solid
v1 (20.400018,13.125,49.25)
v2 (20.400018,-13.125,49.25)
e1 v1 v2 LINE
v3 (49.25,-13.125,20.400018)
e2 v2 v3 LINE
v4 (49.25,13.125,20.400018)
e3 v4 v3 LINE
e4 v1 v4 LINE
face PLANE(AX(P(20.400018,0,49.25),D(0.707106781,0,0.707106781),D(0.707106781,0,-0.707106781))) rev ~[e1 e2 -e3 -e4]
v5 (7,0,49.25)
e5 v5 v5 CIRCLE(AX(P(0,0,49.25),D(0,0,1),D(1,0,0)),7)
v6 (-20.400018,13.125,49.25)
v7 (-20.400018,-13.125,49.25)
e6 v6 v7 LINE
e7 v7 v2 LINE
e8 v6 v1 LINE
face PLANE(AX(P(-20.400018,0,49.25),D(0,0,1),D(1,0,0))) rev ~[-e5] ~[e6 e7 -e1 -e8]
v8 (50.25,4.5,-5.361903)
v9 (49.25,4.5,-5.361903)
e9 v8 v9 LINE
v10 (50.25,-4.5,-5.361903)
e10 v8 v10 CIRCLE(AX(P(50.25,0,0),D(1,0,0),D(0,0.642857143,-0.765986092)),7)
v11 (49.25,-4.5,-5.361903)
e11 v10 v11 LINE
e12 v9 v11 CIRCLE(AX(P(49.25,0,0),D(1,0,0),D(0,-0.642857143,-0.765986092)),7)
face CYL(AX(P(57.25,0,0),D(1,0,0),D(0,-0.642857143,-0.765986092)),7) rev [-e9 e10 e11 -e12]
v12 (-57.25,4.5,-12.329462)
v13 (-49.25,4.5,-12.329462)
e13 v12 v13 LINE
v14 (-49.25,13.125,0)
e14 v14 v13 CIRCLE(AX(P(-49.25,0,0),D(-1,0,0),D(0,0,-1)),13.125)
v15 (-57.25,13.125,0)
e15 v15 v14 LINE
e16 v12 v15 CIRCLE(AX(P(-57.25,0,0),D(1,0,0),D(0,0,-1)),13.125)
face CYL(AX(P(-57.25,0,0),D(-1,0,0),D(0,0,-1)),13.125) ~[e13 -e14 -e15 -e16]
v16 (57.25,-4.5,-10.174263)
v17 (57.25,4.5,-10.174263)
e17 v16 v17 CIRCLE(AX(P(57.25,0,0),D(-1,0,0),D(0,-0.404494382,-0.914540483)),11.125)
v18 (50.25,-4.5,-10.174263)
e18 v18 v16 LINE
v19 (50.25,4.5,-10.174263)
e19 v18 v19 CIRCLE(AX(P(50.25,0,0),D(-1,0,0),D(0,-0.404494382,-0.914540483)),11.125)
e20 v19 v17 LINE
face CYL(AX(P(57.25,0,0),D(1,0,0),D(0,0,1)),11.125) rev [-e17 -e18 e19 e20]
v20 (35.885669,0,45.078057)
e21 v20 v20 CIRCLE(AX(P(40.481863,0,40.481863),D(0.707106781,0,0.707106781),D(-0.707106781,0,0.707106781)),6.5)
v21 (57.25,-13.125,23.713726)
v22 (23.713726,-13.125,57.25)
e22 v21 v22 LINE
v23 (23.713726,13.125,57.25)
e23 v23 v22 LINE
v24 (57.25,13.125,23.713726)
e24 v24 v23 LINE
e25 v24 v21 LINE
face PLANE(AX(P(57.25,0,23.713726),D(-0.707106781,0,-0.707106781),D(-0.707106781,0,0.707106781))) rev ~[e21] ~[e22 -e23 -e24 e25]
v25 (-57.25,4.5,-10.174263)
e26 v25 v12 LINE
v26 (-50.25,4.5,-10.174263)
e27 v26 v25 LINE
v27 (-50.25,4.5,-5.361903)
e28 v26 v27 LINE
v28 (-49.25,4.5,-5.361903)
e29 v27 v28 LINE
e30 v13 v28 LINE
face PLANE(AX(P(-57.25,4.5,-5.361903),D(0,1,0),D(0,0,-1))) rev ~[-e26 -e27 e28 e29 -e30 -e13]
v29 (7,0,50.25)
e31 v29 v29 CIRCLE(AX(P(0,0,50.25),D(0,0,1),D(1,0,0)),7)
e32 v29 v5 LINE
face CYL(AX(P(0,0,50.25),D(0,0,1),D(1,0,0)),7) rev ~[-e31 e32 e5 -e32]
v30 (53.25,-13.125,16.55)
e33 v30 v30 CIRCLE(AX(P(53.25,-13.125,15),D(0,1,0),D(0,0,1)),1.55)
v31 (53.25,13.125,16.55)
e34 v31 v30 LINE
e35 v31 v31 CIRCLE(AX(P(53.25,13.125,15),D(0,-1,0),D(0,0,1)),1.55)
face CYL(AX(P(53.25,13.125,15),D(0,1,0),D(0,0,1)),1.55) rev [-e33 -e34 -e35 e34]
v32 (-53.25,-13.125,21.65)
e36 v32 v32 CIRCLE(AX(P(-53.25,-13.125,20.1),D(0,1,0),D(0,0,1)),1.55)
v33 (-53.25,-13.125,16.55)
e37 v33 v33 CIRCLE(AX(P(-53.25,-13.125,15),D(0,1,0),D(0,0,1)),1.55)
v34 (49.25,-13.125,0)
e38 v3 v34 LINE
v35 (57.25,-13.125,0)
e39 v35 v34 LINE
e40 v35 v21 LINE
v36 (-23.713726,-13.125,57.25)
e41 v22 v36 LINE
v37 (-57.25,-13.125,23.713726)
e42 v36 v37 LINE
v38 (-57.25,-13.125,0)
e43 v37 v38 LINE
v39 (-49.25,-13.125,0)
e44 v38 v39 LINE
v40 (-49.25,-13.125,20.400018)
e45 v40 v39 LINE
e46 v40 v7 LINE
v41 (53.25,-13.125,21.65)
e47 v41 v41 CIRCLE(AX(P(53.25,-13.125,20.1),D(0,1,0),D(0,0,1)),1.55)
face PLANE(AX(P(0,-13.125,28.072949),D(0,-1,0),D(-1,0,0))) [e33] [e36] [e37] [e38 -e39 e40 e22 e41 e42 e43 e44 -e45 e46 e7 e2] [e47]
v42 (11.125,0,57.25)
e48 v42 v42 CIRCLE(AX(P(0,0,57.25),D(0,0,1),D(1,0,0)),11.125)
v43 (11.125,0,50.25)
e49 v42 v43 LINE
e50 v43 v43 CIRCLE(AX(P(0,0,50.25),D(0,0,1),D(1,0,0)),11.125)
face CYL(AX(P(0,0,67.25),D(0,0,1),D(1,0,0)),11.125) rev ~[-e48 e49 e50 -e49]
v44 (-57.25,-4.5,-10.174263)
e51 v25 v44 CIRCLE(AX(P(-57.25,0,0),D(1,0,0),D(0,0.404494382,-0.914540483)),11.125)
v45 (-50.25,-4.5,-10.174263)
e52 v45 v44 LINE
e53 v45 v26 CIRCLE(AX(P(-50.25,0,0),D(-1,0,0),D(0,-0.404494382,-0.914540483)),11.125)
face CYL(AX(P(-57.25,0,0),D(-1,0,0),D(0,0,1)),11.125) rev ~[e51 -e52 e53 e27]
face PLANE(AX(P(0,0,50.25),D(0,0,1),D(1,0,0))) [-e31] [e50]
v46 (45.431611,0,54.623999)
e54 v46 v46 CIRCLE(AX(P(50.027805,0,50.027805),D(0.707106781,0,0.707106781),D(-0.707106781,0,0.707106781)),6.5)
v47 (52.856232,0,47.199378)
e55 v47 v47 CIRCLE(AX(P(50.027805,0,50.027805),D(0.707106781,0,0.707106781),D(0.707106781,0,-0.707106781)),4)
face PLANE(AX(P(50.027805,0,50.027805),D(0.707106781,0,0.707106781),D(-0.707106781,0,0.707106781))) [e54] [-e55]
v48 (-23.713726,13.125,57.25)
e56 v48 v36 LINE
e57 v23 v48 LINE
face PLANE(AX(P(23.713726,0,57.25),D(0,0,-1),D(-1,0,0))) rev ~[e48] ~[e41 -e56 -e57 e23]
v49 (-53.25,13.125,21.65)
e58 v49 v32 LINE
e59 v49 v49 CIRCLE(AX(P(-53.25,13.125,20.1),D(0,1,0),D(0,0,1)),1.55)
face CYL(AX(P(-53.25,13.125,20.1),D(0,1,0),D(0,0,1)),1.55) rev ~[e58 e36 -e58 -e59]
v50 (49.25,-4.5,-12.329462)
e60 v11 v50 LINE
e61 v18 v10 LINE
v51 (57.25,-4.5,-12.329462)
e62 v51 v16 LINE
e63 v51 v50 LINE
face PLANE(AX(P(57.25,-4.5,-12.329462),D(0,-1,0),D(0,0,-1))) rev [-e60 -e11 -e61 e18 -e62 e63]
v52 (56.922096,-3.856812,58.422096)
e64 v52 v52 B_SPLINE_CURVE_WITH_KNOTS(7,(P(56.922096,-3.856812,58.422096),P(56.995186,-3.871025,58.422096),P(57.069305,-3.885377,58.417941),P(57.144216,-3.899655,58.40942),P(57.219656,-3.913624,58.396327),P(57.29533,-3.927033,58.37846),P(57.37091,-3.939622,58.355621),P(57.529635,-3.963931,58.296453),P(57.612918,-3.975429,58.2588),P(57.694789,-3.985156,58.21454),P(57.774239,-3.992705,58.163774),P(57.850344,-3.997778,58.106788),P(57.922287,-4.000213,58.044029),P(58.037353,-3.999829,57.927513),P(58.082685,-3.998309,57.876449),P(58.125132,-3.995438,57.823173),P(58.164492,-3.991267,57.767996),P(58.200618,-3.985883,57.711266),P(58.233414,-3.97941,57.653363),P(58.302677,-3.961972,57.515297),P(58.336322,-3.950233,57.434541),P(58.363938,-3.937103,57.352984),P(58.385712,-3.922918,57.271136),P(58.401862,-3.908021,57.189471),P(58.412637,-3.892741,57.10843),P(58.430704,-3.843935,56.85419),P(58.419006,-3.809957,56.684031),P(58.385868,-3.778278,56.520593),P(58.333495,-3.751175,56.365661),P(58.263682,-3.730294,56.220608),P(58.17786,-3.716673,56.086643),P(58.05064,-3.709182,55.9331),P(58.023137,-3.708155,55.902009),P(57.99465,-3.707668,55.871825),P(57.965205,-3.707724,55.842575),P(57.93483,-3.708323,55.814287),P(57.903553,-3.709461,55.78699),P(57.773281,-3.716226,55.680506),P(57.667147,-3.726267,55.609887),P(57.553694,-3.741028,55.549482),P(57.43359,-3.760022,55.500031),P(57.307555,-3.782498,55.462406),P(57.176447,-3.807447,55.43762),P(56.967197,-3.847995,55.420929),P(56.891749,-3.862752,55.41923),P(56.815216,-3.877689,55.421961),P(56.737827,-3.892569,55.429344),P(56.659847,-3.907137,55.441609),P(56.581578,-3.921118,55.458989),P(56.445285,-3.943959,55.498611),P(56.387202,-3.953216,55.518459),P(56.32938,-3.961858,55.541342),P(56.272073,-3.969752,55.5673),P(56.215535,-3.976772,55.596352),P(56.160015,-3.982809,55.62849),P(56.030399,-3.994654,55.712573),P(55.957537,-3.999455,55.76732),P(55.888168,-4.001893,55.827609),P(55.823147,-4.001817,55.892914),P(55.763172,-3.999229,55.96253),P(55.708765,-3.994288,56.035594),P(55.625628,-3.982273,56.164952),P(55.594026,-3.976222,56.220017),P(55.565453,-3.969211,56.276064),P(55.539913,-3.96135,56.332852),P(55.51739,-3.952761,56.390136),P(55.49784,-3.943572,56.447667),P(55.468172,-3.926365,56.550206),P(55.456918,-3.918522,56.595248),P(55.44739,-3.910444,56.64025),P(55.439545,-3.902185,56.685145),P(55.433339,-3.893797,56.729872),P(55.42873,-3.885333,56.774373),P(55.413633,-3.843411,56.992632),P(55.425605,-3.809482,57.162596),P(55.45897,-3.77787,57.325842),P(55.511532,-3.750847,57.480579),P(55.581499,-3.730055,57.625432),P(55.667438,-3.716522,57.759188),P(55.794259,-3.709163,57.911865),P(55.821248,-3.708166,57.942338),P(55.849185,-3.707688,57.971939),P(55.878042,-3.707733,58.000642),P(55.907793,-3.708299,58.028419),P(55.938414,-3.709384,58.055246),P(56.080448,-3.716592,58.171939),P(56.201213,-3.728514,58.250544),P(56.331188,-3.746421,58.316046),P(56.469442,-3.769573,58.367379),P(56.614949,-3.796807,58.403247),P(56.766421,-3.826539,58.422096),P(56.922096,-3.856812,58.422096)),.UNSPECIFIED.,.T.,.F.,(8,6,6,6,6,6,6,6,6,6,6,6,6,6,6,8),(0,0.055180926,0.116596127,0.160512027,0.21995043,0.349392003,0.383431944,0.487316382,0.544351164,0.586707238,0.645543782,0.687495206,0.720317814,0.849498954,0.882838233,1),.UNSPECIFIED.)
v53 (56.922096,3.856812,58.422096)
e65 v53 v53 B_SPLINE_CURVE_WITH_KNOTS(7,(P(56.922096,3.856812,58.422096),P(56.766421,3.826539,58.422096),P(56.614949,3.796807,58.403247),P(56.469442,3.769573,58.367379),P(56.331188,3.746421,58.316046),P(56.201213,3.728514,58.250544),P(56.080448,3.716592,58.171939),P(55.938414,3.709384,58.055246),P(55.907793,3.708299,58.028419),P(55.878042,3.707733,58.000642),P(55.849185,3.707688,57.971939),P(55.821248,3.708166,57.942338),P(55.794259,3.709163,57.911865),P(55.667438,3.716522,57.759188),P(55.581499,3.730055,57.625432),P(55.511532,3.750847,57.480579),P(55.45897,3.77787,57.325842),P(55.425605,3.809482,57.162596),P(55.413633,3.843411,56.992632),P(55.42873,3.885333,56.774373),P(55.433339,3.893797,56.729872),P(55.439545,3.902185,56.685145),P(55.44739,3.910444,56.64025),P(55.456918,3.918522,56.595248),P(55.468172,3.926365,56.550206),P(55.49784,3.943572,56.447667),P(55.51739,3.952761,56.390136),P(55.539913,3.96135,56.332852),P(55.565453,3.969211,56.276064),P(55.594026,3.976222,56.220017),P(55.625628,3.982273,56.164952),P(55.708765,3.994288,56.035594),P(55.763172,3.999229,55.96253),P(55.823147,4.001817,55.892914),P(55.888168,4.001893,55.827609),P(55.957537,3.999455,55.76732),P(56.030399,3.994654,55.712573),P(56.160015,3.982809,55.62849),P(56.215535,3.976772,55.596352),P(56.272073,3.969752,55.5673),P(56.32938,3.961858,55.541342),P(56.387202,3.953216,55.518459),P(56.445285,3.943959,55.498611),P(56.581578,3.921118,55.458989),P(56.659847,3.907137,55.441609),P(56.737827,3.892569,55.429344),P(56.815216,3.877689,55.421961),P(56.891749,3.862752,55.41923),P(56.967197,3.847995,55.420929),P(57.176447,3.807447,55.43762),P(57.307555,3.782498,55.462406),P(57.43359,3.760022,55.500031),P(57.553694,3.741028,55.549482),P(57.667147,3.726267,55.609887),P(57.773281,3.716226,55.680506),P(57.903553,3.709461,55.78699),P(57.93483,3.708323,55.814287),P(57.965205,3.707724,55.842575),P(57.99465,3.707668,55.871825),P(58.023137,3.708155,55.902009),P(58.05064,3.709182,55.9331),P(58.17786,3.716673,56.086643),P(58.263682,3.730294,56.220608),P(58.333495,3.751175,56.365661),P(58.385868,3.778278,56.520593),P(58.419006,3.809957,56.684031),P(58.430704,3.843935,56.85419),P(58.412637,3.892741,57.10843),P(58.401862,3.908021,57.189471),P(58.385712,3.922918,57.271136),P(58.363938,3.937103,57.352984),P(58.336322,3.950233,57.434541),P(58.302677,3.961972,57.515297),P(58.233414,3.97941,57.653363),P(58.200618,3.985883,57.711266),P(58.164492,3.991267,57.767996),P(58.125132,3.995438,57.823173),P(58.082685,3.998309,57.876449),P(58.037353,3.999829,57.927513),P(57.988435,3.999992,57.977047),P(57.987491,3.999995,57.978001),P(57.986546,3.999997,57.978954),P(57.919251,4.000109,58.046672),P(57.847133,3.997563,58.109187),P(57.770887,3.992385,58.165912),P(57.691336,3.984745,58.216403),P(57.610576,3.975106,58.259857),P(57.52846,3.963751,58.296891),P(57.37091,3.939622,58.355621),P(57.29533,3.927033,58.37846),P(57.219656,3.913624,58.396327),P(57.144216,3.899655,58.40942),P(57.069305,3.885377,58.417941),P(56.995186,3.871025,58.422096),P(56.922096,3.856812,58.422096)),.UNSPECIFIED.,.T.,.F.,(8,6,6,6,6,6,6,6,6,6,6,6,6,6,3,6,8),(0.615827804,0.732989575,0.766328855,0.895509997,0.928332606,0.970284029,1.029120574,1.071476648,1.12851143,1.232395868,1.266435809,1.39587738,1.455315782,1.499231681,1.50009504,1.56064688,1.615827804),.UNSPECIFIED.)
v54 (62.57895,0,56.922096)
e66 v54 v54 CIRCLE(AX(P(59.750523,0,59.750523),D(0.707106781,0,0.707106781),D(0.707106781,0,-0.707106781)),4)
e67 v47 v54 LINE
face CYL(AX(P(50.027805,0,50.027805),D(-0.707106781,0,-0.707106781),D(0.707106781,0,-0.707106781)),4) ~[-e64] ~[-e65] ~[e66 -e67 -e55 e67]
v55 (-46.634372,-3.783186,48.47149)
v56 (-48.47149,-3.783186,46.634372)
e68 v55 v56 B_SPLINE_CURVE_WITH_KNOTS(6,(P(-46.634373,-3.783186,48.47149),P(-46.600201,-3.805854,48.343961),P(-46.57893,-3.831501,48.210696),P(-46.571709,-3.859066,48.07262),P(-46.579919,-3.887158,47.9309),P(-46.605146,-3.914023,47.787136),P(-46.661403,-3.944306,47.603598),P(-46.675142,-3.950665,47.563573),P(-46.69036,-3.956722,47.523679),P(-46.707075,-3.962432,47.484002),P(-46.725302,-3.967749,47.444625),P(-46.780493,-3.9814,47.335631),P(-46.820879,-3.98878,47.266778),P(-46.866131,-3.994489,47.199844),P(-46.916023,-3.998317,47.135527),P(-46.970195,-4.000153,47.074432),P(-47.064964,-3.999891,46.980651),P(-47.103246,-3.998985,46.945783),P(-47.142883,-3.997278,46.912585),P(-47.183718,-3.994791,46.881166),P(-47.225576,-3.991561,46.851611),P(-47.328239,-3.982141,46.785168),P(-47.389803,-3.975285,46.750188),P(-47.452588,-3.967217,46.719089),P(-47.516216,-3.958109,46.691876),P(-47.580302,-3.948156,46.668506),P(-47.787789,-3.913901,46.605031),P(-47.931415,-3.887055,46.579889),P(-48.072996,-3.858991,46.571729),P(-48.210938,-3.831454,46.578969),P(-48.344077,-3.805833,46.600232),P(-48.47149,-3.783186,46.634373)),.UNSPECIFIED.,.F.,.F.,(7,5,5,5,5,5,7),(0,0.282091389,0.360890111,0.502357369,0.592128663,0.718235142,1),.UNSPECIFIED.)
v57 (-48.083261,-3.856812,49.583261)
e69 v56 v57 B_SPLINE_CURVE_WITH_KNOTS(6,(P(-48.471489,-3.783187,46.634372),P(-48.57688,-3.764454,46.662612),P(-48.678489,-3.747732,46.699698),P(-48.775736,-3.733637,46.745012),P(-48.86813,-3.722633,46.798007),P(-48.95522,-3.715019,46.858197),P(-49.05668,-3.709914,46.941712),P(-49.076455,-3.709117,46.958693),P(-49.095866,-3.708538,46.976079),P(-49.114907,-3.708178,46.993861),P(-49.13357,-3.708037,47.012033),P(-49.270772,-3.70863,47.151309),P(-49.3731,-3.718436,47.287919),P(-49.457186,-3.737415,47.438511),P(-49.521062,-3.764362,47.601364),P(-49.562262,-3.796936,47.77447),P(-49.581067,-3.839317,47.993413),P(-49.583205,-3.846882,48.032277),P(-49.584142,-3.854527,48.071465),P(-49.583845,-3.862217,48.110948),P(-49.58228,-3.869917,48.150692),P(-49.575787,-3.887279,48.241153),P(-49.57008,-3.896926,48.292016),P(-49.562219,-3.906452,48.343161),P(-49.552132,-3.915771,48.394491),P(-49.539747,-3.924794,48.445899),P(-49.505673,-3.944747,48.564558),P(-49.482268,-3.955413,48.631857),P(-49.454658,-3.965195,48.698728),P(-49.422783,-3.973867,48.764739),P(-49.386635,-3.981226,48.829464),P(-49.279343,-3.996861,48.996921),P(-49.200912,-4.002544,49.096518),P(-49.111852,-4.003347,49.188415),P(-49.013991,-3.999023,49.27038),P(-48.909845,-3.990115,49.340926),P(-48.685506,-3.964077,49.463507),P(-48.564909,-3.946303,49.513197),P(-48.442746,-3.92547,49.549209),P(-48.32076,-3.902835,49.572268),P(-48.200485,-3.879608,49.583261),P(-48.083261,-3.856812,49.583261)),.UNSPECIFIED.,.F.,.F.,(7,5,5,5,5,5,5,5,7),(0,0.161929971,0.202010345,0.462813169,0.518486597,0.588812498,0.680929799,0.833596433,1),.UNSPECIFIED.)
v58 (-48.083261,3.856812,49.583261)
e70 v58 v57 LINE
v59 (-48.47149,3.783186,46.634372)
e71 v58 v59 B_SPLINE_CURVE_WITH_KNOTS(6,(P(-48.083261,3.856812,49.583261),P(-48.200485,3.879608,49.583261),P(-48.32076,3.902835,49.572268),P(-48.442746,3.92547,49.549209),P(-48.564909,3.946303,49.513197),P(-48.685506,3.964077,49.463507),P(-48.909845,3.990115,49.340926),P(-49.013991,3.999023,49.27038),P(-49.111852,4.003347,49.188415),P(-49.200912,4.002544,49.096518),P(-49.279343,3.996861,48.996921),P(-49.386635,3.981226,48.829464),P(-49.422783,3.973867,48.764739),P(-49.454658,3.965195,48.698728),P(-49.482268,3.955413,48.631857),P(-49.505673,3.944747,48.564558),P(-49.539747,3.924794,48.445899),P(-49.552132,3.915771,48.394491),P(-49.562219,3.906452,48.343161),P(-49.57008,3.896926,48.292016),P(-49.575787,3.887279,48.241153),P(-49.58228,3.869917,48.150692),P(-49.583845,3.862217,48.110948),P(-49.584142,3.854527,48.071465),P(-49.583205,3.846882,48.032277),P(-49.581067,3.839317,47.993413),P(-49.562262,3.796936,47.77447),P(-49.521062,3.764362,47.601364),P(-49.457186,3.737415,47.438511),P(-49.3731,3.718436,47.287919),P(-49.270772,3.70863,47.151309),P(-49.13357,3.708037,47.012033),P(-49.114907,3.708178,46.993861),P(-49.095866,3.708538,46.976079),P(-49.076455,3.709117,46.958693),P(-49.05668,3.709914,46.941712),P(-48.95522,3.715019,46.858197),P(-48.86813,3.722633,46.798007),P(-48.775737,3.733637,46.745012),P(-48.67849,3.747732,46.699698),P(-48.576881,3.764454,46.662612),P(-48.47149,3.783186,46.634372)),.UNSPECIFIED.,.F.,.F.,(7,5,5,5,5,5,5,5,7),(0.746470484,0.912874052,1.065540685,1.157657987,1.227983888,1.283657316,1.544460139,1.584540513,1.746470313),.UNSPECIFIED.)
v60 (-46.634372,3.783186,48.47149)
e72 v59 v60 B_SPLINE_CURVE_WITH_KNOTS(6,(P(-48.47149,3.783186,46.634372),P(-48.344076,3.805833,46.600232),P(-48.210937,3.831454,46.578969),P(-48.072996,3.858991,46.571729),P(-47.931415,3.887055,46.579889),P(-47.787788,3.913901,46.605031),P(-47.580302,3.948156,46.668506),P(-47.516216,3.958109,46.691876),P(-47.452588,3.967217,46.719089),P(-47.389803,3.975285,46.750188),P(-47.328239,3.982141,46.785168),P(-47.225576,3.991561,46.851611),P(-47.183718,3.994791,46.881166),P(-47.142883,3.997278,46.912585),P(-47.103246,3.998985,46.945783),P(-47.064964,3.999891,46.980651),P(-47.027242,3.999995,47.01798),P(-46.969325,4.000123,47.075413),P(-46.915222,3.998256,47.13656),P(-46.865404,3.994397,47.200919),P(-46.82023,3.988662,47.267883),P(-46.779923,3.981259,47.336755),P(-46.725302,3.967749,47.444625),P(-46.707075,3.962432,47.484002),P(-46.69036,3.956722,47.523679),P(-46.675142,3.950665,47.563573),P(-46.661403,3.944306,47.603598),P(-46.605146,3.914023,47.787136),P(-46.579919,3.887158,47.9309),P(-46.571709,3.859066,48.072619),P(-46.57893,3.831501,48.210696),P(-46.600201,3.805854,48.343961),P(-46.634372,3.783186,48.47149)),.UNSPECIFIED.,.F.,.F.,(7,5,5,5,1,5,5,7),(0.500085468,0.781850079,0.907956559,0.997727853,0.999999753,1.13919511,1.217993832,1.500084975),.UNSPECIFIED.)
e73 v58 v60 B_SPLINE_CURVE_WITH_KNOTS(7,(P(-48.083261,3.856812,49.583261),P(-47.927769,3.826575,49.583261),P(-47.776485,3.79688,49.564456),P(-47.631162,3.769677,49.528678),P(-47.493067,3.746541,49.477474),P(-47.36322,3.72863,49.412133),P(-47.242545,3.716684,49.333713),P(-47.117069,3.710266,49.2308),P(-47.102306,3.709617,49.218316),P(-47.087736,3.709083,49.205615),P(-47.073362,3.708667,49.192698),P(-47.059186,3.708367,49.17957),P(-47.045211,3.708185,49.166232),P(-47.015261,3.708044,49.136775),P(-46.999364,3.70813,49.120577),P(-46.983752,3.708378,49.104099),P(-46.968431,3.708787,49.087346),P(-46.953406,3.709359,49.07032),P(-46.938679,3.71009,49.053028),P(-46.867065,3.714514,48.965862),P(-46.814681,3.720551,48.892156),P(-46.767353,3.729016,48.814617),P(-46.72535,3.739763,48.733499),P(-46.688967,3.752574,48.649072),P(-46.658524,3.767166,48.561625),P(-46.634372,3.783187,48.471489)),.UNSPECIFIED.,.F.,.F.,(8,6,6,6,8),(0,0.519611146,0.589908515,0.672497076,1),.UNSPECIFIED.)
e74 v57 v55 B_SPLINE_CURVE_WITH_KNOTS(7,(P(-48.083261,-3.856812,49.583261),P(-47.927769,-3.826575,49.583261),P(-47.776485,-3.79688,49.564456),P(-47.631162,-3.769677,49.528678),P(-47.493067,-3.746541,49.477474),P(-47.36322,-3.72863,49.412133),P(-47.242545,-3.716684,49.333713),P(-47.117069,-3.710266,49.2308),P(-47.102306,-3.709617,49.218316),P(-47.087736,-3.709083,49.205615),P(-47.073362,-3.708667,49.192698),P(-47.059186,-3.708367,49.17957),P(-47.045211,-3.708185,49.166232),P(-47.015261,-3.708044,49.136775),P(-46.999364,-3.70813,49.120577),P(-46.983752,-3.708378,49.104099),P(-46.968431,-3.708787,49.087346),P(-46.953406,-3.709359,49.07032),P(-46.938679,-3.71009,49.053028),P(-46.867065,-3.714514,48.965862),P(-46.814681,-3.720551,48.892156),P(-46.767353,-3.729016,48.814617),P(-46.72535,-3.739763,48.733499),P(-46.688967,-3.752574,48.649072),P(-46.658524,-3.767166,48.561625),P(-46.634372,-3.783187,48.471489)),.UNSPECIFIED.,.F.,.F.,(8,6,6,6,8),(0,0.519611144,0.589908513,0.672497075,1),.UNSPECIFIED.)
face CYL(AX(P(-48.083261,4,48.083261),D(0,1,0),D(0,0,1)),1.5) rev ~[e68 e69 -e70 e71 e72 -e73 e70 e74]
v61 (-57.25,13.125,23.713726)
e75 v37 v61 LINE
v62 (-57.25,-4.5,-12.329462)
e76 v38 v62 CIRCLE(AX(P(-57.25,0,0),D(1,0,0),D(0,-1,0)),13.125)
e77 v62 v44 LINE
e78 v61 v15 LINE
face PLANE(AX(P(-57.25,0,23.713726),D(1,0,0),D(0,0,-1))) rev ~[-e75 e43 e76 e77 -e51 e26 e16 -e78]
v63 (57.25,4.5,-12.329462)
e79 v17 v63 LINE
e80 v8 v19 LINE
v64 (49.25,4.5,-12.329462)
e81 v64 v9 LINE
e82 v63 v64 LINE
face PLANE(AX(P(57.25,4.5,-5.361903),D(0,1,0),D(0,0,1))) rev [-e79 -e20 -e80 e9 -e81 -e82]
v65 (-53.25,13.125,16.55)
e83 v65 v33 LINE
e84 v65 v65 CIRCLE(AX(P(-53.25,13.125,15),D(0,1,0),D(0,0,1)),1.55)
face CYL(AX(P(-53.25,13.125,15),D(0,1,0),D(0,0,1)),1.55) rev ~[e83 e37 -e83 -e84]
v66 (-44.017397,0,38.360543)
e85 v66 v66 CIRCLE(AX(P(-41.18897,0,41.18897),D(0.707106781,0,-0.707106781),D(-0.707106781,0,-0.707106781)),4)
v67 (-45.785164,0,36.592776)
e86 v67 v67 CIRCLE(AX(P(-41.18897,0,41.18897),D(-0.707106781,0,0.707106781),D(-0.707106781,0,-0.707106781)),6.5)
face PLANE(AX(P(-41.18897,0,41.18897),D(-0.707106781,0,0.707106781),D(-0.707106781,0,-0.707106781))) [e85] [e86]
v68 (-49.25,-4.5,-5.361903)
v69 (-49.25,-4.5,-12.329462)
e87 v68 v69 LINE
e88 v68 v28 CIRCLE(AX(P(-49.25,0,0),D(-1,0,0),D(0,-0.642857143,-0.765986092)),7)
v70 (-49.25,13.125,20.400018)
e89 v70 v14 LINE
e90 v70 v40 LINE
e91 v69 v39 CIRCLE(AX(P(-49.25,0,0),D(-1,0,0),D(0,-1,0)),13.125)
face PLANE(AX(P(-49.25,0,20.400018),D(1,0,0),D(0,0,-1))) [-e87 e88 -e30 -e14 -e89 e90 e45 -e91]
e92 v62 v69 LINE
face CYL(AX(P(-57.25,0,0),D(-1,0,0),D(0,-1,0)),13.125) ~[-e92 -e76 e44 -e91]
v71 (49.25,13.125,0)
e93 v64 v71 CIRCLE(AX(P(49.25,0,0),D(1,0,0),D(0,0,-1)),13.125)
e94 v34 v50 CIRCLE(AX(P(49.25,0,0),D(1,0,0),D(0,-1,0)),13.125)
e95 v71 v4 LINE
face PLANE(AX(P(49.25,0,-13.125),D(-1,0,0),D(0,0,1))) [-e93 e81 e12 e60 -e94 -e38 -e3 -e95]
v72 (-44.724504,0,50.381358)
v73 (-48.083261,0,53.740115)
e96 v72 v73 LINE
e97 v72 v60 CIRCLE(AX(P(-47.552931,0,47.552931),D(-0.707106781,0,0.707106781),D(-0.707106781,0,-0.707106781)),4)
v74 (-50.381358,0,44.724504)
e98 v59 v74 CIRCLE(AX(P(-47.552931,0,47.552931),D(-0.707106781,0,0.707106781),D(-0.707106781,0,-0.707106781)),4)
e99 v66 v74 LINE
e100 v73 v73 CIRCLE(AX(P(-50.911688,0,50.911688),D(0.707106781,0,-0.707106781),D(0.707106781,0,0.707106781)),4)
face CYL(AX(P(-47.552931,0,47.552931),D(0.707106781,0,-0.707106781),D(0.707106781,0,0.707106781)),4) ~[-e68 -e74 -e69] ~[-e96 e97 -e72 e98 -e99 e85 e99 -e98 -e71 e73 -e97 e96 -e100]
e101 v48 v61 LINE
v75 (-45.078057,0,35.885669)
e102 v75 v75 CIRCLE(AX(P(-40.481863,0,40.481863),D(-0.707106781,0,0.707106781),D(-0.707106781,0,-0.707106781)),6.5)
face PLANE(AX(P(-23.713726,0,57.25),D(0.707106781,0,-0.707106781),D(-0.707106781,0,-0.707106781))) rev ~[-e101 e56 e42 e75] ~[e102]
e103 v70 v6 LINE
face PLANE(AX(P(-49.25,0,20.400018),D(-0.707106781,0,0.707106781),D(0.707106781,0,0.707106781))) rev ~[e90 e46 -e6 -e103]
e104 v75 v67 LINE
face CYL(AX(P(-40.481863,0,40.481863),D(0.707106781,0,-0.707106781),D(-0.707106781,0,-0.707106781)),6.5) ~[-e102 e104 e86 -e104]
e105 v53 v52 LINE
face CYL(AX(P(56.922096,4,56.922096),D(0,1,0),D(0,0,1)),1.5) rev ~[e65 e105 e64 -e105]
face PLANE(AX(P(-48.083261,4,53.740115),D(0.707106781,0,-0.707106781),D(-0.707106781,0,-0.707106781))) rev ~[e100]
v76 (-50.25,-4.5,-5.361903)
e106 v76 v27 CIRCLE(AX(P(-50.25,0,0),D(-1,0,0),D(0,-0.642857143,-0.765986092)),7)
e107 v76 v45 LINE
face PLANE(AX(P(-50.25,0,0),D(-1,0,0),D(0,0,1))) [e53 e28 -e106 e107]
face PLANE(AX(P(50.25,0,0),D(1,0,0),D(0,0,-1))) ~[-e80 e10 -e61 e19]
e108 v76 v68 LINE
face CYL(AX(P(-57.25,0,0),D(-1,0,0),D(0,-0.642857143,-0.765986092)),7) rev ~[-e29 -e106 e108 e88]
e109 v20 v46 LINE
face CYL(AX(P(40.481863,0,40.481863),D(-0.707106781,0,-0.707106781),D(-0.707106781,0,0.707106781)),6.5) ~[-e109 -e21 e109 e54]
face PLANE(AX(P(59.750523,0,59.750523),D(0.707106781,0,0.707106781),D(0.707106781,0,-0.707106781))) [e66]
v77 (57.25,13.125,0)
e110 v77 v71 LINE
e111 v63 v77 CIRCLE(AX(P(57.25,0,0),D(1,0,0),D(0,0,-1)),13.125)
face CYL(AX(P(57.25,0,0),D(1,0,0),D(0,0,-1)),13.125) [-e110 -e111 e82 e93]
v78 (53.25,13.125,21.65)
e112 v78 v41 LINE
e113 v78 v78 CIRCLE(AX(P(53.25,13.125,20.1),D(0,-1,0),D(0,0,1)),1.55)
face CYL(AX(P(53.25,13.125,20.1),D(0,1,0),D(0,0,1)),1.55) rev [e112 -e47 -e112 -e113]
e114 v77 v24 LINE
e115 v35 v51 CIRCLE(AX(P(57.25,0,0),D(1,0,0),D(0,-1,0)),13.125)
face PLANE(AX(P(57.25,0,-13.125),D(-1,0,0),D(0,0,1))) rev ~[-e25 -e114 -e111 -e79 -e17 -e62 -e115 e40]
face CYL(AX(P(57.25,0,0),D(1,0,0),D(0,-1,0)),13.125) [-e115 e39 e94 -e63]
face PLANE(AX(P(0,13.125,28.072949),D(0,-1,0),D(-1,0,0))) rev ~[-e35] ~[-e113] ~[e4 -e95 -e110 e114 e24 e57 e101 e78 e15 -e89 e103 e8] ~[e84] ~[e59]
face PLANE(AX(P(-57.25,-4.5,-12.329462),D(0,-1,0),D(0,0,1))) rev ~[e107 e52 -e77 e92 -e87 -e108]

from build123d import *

# Parameters (mm, degrees)
BOSS_EXTRUDE1_DEPTH = 13.125
SKETCH2_R           = 7
CUT_EXTRUDE1_DEPTH  = 106.5
SKETCH2_4_R         = 11.125
SKETCH2_4_R_2       = 7
CUT_EXTRUDE2_DEPTH  = 7
SKETCH4_R           = 4
BOSS_EXTRUDE3_DEPTH = 10
SKETCH5_R           = 6.5
BOSS_EXTRUDE4_DEPTH = 1
CIRPATTERN1_COUNT   = 2
CIRPATTERN1_ANGLE   = 45
SKETCH9_R           = 4
BOSS_EXTRUDE6_DEPTH = 20
CUT_EXTRUDE6_REACH  = 96.758
SKETCH10_R          = 1.5
SKETCH11_R          = 6.5
BOSS_EXTRUDE7_DEPTH = 13.5
SKETCH12_R          = 4
BOSS_EXTRUDE8_DEPTH = 13.75
SKETCH13_R          = 1.5
CUT_EXTRUDE7_DEPTH  = 13.75
SKETCH14_R          = 11.125
CUT_EXTRUDE8_DEPTH  = 17
SKETCH15_R          = 7
CUT_EXTRUDE9_DEPTH  = 1
SKETCH16_R          = 1.55
CUT_EXTRUDE10_DEPTH = 93.310955607


with BuildPart() as part:
    # Sketch1 → Boss-Extrude1 (new, symmetric)
    with BuildSketch(Plane(origin=(0, 0, 0), x_dir=(1, 0, 0), z_dir=(0, 1, 0))):
        Polygon((-49.25, 13.125), (-49.25, -13.125), (-49.25, -20.400017947), (-20.400017947, -49.25), (20.400017947, -49.25), (49.25, -20.400017947), (49.25, -13.125), (49.25, 13.125), (57.25, 13.125), (57.25, -23.713726446), (23.713726446, -57.25), (-23.713726446, -57.25), (-57.25, -23.713726446), (-57.25, 13.125), align=None)
    extrude(amount=BOSS_EXTRUDE1_DEPTH, both=True)

    # Sketch2 → Cut-Extrude1 (cut)
    with BuildSketch(Plane.ZY.offset(57.25)):
        with BuildLine():
            Line((-13.125, 13.125), (-13.125, 0))
            ThreePointArc((-13.125, 0), (-12.924585281, 2.284889562), (-12.329461667, 4.5))
            ThreePointArc((-12.329461667, 4.5), (-7.523400993, 10.7547228), (0, 13.125))
            Line((0, 13.125), (-13.125, 13.125))
        make_face()
        with BuildLine():
            ThreePointArc((-12.329461667, -4.5), (-12.924585281, -2.284889562), (-13.125, 0))
            Line((-13.125, 0), (-13.125, -13.125))
            Line((-13.125, -13.125), (0, -13.125))
            ThreePointArc((0, -13.125), (-7.523400993, -10.7547228), (-12.329461667, -4.5))
        make_face()
        Circle(SKETCH2_R)
        with BuildLine():
            ThreePointArc((-5.361902647, -4.5), (-6.577739678, -2.394439545), (-7, 0))
            Line((-7, 0), (-11.125, 0))
            ThreePointArc((-11.125, 0), (-10.88472093, -2.299668513), (-10.174262873, -4.5))
            Line((-10.174262873, -4.5), (-5.361902647, -4.5))
        make_face()
        with BuildLine():
            Line((-11.125, 0), (-7, 0))
            ThreePointArc((-7, 0), (-6.577739678, 2.394439545), (-5.361902647, 4.5))
            Line((-5.361902647, 4.5), (-10.174262873, 4.5))
            ThreePointArc((-10.174262873, 4.5), (-10.88472093, 2.299668513), (-11.125, 0))
        make_face()
        with BuildLine():
            ThreePointArc((-10.174262873, -4.5), (-10.88472093, -2.299668513), (-11.125, 0))
            Line((-11.125, 0), (-13.125, 0))
            ThreePointArc((-13.125, 0), (-12.924585281, -2.284889562), (-12.329461667, -4.5))
            Line((-12.329461667, -4.5), (-10.174262873, -4.5))
        make_face()
        with BuildLine():
            Line((-13.125, 0), (-11.125, 0))
            ThreePointArc((-11.125, 0), (-10.88472093, 2.299668513), (-10.174262873, 4.5))
            Line((-10.174262873, 4.5), (-12.329461667, 4.5))
            ThreePointArc((-12.329461667, 4.5), (-12.924585281, 2.284889562), (-13.125, 0))
        make_face()
    cut_extrude1 = extrude(amount=-CUT_EXTRUDE1_DEPTH, mode=Mode.SUBTRACT)

    # Sketch2_4 → Cut-Extrude2 (cut)
    with BuildSketch(Plane.ZY.offset(57.25)):
        Circle(SKETCH2_4_R)
        Circle(SKETCH2_4_R_2, mode=Mode.SUBTRACT)
    cut_extrude2 = extrude(amount=-CUT_EXTRUDE2_DEPTH, mode=Mode.SUBTRACT)

    # Mirror1: Cut-Extrude1, Cut-Extrude2 across plane
    add(cut_extrude1.mirror(Plane(origin=(0, 0, 0), x_dir=(0, 0, 1), z_dir=(1, 0, 0))), mode=Mode.SUBTRACT)
    add(cut_extrude2.mirror(Plane(origin=(0, 0, 0), x_dir=(0, 0, 1), z_dir=(1, 0, 0))), mode=Mode.SUBTRACT)

    # Sketch4 → Boss-Extrude3 (add)
    with BuildSketch(Plane(origin=(-40.481863223, 0, 40.481863223), x_dir=(0.7071067811865489, 0, 0.7071067811865461), z_dir=(-0.7071067811865461, 0, 0.7071067811865489))):
        with Locations(Location((0, 0, 0), (0, 0, 180))):
            Circle(SKETCH4_R)
    boss_extrude3 = extrude(amount=BOSS_EXTRUDE3_DEPTH)

    # Sketch5 → Boss-Extrude4 (add)
    with BuildSketch(Plane(origin=(-40.481863223, 0, 40.481863223), x_dir=(0.7071067811865489, 0, 0.7071067811865461), z_dir=(-0.7071067811865461, 0, 0.7071067811865489))):
        with Locations(Location((0, 0, 0), (0, 0, 180))):
            Circle(SKETCH5_R)
    boss_extrude4 = extrude(amount=BOSS_EXTRUDE4_DEPTH)

    # CirPattern1: Boss-Extrude3, Boss-Extrude4 ×2 about axis
    cirpattern1_axis = Axis((0, 14.4375, 0), (0, 1, 0))
    add([boss_extrude3.rotate(cirpattern1_axis, i * CIRPATTERN1_ANGLE / (CIRPATTERN1_COUNT - 1)) for i in range(1, CIRPATTERN1_COUNT)])
    add([boss_extrude4.rotate(cirpattern1_axis, i * CIRPATTERN1_ANGLE / (CIRPATTERN1_COUNT - 1)) for i in range(1, CIRPATTERN1_COUNT)])

    # Sketch9 → Boss-Extrude6 (add)
    with BuildSketch(Plane(origin=(-47.552931035, 0, 47.552931035), x_dir=(0.7071067811865489, 0, 0.7071067811865461), z_dir=(-0.7071067811865461, 0, 0.7071067811865489))):
        Circle(SKETCH9_R)
    extrude(amount=BOSS_EXTRUDE6_DEPTH)

    # Sketch10 → Cut-Extrude6 (cut, up to next)
    with BuildSketch(Plane(origin=(0, 4, 0), x_dir=(1, 0, 0), z_dir=(0, 1, 0)), mode=Mode.PRIVATE) as cut_extrude6_sk1:
        Polygon((-48.083261121, -53.74011537), (-53.74011537, -48.083261121), (-64.523493783, -58.866639534), (-58.866639534, -64.523493783), align=None)
    cut_extrude6_tool1 = extrude(cut_extrude6_sk1.sketch, amount=-CUT_EXTRUDE6_REACH, mode=Mode.PRIVATE) & part.part
    # Sketch10 → Cut-Extrude6 (cut, up to next)
    with BuildSketch(Plane(origin=(0, 4, 0), x_dir=(1, 0, 0), z_dir=(0, 1, 0)), mode=Mode.PRIVATE) as cut_extrude6_sk2:
        with Locations(Location((-48.083261121, -48.083261121, 0), (0, 0, 270))):
            Circle(SKETCH10_R)
    cut_extrude6_tool2 = extrude(cut_extrude6_sk2.sketch, amount=-CUT_EXTRUDE6_REACH, mode=Mode.PRIVATE) & part.part
    add(cut_extrude6_tool1.solids().sort_by_distance((-56.303377, 4, 56.303377))[0], mode=Mode.SUBTRACT)
    add(cut_extrude6_tool2.solids().sort_by_distance((-48.083261, 4, 48.083261))[0], mode=Mode.SUBTRACT)

    # Sketch11 → Boss-Extrude7 (add)
    with BuildSketch(Plane(origin=(40.481863223, 0, 40.481863223), x_dir=(0.7071067811865442, 0, -0.7071067811865508), z_dir=(0.7071067811865508, 0, 0.7071067811865442))):
        with Locations(Location((0, 0, 0), (0, 0, 180))):
            Circle(SKETCH11_R)
    extrude(amount=BOSS_EXTRUDE7_DEPTH)

    # Sketch12 → Boss-Extrude8 (add)
    with BuildSketch(Plane(origin=(50.027804769, 0, 50.027804769), x_dir=(0.7071067811865442, 0, -0.7071067811865508), z_dir=(0.7071067811865508, 0, 0.7071067811865442))):
        Circle(SKETCH12_R)
    extrude(amount=BOSS_EXTRUDE8_DEPTH)

    # Sketch13 → Cut-Extrude7 (cut)
    with BuildSketch(Plane(origin=(0, 4, 0), x_dir=(1, 0, 0), z_dir=(0, 1, 0))):
        with Locations(Location((56.922095886, -56.922095886, 0), (0, 0, 270))):
            Circle(SKETCH13_R)
    extrude(amount=-CUT_EXTRUDE7_DEPTH, mode=Mode.SUBTRACT)

    # Sketch14 → Cut-Extrude8 (cut)
    with BuildSketch(Plane.XY.offset(67.25)):
        Circle(SKETCH14_R)
    extrude(amount=-CUT_EXTRUDE8_DEPTH, mode=Mode.SUBTRACT)

    # Sketch15 → Cut-Extrude9 (cut)
    with BuildSketch(Plane.XY.offset(50.25)):
        Circle(SKETCH15_R)
    extrude(amount=-CUT_EXTRUDE9_DEPTH, mode=Mode.SUBTRACT)

    # Sketch16 → Cut-Extrude10 (cut, through all)
    with BuildSketch(Plane(origin=(0, 13.125, 0), x_dir=(1, 0, 0), z_dir=(0, 1, 0))):
        with Locations(Location((-53.25, -15, 0), (0, 0, 270))):
            Circle(SKETCH16_R)
        with Locations(Location((-53.25, -20.1, 0), (0, 0, 270))):
            Circle(SKETCH16_R)
    cut_extrude10 = extrude(amount=-CUT_EXTRUDE10_DEPTH, mode=Mode.SUBTRACT)

    # Mirror3: Cut-Extrude10 across plane
    add(cut_extrude10.mirror(Plane(origin=(0, 0, 0), x_dir=(0, 0, 1), z_dir=(1, 0, 0))), mode=Mode.SUBTRACT)


solid = part.part
